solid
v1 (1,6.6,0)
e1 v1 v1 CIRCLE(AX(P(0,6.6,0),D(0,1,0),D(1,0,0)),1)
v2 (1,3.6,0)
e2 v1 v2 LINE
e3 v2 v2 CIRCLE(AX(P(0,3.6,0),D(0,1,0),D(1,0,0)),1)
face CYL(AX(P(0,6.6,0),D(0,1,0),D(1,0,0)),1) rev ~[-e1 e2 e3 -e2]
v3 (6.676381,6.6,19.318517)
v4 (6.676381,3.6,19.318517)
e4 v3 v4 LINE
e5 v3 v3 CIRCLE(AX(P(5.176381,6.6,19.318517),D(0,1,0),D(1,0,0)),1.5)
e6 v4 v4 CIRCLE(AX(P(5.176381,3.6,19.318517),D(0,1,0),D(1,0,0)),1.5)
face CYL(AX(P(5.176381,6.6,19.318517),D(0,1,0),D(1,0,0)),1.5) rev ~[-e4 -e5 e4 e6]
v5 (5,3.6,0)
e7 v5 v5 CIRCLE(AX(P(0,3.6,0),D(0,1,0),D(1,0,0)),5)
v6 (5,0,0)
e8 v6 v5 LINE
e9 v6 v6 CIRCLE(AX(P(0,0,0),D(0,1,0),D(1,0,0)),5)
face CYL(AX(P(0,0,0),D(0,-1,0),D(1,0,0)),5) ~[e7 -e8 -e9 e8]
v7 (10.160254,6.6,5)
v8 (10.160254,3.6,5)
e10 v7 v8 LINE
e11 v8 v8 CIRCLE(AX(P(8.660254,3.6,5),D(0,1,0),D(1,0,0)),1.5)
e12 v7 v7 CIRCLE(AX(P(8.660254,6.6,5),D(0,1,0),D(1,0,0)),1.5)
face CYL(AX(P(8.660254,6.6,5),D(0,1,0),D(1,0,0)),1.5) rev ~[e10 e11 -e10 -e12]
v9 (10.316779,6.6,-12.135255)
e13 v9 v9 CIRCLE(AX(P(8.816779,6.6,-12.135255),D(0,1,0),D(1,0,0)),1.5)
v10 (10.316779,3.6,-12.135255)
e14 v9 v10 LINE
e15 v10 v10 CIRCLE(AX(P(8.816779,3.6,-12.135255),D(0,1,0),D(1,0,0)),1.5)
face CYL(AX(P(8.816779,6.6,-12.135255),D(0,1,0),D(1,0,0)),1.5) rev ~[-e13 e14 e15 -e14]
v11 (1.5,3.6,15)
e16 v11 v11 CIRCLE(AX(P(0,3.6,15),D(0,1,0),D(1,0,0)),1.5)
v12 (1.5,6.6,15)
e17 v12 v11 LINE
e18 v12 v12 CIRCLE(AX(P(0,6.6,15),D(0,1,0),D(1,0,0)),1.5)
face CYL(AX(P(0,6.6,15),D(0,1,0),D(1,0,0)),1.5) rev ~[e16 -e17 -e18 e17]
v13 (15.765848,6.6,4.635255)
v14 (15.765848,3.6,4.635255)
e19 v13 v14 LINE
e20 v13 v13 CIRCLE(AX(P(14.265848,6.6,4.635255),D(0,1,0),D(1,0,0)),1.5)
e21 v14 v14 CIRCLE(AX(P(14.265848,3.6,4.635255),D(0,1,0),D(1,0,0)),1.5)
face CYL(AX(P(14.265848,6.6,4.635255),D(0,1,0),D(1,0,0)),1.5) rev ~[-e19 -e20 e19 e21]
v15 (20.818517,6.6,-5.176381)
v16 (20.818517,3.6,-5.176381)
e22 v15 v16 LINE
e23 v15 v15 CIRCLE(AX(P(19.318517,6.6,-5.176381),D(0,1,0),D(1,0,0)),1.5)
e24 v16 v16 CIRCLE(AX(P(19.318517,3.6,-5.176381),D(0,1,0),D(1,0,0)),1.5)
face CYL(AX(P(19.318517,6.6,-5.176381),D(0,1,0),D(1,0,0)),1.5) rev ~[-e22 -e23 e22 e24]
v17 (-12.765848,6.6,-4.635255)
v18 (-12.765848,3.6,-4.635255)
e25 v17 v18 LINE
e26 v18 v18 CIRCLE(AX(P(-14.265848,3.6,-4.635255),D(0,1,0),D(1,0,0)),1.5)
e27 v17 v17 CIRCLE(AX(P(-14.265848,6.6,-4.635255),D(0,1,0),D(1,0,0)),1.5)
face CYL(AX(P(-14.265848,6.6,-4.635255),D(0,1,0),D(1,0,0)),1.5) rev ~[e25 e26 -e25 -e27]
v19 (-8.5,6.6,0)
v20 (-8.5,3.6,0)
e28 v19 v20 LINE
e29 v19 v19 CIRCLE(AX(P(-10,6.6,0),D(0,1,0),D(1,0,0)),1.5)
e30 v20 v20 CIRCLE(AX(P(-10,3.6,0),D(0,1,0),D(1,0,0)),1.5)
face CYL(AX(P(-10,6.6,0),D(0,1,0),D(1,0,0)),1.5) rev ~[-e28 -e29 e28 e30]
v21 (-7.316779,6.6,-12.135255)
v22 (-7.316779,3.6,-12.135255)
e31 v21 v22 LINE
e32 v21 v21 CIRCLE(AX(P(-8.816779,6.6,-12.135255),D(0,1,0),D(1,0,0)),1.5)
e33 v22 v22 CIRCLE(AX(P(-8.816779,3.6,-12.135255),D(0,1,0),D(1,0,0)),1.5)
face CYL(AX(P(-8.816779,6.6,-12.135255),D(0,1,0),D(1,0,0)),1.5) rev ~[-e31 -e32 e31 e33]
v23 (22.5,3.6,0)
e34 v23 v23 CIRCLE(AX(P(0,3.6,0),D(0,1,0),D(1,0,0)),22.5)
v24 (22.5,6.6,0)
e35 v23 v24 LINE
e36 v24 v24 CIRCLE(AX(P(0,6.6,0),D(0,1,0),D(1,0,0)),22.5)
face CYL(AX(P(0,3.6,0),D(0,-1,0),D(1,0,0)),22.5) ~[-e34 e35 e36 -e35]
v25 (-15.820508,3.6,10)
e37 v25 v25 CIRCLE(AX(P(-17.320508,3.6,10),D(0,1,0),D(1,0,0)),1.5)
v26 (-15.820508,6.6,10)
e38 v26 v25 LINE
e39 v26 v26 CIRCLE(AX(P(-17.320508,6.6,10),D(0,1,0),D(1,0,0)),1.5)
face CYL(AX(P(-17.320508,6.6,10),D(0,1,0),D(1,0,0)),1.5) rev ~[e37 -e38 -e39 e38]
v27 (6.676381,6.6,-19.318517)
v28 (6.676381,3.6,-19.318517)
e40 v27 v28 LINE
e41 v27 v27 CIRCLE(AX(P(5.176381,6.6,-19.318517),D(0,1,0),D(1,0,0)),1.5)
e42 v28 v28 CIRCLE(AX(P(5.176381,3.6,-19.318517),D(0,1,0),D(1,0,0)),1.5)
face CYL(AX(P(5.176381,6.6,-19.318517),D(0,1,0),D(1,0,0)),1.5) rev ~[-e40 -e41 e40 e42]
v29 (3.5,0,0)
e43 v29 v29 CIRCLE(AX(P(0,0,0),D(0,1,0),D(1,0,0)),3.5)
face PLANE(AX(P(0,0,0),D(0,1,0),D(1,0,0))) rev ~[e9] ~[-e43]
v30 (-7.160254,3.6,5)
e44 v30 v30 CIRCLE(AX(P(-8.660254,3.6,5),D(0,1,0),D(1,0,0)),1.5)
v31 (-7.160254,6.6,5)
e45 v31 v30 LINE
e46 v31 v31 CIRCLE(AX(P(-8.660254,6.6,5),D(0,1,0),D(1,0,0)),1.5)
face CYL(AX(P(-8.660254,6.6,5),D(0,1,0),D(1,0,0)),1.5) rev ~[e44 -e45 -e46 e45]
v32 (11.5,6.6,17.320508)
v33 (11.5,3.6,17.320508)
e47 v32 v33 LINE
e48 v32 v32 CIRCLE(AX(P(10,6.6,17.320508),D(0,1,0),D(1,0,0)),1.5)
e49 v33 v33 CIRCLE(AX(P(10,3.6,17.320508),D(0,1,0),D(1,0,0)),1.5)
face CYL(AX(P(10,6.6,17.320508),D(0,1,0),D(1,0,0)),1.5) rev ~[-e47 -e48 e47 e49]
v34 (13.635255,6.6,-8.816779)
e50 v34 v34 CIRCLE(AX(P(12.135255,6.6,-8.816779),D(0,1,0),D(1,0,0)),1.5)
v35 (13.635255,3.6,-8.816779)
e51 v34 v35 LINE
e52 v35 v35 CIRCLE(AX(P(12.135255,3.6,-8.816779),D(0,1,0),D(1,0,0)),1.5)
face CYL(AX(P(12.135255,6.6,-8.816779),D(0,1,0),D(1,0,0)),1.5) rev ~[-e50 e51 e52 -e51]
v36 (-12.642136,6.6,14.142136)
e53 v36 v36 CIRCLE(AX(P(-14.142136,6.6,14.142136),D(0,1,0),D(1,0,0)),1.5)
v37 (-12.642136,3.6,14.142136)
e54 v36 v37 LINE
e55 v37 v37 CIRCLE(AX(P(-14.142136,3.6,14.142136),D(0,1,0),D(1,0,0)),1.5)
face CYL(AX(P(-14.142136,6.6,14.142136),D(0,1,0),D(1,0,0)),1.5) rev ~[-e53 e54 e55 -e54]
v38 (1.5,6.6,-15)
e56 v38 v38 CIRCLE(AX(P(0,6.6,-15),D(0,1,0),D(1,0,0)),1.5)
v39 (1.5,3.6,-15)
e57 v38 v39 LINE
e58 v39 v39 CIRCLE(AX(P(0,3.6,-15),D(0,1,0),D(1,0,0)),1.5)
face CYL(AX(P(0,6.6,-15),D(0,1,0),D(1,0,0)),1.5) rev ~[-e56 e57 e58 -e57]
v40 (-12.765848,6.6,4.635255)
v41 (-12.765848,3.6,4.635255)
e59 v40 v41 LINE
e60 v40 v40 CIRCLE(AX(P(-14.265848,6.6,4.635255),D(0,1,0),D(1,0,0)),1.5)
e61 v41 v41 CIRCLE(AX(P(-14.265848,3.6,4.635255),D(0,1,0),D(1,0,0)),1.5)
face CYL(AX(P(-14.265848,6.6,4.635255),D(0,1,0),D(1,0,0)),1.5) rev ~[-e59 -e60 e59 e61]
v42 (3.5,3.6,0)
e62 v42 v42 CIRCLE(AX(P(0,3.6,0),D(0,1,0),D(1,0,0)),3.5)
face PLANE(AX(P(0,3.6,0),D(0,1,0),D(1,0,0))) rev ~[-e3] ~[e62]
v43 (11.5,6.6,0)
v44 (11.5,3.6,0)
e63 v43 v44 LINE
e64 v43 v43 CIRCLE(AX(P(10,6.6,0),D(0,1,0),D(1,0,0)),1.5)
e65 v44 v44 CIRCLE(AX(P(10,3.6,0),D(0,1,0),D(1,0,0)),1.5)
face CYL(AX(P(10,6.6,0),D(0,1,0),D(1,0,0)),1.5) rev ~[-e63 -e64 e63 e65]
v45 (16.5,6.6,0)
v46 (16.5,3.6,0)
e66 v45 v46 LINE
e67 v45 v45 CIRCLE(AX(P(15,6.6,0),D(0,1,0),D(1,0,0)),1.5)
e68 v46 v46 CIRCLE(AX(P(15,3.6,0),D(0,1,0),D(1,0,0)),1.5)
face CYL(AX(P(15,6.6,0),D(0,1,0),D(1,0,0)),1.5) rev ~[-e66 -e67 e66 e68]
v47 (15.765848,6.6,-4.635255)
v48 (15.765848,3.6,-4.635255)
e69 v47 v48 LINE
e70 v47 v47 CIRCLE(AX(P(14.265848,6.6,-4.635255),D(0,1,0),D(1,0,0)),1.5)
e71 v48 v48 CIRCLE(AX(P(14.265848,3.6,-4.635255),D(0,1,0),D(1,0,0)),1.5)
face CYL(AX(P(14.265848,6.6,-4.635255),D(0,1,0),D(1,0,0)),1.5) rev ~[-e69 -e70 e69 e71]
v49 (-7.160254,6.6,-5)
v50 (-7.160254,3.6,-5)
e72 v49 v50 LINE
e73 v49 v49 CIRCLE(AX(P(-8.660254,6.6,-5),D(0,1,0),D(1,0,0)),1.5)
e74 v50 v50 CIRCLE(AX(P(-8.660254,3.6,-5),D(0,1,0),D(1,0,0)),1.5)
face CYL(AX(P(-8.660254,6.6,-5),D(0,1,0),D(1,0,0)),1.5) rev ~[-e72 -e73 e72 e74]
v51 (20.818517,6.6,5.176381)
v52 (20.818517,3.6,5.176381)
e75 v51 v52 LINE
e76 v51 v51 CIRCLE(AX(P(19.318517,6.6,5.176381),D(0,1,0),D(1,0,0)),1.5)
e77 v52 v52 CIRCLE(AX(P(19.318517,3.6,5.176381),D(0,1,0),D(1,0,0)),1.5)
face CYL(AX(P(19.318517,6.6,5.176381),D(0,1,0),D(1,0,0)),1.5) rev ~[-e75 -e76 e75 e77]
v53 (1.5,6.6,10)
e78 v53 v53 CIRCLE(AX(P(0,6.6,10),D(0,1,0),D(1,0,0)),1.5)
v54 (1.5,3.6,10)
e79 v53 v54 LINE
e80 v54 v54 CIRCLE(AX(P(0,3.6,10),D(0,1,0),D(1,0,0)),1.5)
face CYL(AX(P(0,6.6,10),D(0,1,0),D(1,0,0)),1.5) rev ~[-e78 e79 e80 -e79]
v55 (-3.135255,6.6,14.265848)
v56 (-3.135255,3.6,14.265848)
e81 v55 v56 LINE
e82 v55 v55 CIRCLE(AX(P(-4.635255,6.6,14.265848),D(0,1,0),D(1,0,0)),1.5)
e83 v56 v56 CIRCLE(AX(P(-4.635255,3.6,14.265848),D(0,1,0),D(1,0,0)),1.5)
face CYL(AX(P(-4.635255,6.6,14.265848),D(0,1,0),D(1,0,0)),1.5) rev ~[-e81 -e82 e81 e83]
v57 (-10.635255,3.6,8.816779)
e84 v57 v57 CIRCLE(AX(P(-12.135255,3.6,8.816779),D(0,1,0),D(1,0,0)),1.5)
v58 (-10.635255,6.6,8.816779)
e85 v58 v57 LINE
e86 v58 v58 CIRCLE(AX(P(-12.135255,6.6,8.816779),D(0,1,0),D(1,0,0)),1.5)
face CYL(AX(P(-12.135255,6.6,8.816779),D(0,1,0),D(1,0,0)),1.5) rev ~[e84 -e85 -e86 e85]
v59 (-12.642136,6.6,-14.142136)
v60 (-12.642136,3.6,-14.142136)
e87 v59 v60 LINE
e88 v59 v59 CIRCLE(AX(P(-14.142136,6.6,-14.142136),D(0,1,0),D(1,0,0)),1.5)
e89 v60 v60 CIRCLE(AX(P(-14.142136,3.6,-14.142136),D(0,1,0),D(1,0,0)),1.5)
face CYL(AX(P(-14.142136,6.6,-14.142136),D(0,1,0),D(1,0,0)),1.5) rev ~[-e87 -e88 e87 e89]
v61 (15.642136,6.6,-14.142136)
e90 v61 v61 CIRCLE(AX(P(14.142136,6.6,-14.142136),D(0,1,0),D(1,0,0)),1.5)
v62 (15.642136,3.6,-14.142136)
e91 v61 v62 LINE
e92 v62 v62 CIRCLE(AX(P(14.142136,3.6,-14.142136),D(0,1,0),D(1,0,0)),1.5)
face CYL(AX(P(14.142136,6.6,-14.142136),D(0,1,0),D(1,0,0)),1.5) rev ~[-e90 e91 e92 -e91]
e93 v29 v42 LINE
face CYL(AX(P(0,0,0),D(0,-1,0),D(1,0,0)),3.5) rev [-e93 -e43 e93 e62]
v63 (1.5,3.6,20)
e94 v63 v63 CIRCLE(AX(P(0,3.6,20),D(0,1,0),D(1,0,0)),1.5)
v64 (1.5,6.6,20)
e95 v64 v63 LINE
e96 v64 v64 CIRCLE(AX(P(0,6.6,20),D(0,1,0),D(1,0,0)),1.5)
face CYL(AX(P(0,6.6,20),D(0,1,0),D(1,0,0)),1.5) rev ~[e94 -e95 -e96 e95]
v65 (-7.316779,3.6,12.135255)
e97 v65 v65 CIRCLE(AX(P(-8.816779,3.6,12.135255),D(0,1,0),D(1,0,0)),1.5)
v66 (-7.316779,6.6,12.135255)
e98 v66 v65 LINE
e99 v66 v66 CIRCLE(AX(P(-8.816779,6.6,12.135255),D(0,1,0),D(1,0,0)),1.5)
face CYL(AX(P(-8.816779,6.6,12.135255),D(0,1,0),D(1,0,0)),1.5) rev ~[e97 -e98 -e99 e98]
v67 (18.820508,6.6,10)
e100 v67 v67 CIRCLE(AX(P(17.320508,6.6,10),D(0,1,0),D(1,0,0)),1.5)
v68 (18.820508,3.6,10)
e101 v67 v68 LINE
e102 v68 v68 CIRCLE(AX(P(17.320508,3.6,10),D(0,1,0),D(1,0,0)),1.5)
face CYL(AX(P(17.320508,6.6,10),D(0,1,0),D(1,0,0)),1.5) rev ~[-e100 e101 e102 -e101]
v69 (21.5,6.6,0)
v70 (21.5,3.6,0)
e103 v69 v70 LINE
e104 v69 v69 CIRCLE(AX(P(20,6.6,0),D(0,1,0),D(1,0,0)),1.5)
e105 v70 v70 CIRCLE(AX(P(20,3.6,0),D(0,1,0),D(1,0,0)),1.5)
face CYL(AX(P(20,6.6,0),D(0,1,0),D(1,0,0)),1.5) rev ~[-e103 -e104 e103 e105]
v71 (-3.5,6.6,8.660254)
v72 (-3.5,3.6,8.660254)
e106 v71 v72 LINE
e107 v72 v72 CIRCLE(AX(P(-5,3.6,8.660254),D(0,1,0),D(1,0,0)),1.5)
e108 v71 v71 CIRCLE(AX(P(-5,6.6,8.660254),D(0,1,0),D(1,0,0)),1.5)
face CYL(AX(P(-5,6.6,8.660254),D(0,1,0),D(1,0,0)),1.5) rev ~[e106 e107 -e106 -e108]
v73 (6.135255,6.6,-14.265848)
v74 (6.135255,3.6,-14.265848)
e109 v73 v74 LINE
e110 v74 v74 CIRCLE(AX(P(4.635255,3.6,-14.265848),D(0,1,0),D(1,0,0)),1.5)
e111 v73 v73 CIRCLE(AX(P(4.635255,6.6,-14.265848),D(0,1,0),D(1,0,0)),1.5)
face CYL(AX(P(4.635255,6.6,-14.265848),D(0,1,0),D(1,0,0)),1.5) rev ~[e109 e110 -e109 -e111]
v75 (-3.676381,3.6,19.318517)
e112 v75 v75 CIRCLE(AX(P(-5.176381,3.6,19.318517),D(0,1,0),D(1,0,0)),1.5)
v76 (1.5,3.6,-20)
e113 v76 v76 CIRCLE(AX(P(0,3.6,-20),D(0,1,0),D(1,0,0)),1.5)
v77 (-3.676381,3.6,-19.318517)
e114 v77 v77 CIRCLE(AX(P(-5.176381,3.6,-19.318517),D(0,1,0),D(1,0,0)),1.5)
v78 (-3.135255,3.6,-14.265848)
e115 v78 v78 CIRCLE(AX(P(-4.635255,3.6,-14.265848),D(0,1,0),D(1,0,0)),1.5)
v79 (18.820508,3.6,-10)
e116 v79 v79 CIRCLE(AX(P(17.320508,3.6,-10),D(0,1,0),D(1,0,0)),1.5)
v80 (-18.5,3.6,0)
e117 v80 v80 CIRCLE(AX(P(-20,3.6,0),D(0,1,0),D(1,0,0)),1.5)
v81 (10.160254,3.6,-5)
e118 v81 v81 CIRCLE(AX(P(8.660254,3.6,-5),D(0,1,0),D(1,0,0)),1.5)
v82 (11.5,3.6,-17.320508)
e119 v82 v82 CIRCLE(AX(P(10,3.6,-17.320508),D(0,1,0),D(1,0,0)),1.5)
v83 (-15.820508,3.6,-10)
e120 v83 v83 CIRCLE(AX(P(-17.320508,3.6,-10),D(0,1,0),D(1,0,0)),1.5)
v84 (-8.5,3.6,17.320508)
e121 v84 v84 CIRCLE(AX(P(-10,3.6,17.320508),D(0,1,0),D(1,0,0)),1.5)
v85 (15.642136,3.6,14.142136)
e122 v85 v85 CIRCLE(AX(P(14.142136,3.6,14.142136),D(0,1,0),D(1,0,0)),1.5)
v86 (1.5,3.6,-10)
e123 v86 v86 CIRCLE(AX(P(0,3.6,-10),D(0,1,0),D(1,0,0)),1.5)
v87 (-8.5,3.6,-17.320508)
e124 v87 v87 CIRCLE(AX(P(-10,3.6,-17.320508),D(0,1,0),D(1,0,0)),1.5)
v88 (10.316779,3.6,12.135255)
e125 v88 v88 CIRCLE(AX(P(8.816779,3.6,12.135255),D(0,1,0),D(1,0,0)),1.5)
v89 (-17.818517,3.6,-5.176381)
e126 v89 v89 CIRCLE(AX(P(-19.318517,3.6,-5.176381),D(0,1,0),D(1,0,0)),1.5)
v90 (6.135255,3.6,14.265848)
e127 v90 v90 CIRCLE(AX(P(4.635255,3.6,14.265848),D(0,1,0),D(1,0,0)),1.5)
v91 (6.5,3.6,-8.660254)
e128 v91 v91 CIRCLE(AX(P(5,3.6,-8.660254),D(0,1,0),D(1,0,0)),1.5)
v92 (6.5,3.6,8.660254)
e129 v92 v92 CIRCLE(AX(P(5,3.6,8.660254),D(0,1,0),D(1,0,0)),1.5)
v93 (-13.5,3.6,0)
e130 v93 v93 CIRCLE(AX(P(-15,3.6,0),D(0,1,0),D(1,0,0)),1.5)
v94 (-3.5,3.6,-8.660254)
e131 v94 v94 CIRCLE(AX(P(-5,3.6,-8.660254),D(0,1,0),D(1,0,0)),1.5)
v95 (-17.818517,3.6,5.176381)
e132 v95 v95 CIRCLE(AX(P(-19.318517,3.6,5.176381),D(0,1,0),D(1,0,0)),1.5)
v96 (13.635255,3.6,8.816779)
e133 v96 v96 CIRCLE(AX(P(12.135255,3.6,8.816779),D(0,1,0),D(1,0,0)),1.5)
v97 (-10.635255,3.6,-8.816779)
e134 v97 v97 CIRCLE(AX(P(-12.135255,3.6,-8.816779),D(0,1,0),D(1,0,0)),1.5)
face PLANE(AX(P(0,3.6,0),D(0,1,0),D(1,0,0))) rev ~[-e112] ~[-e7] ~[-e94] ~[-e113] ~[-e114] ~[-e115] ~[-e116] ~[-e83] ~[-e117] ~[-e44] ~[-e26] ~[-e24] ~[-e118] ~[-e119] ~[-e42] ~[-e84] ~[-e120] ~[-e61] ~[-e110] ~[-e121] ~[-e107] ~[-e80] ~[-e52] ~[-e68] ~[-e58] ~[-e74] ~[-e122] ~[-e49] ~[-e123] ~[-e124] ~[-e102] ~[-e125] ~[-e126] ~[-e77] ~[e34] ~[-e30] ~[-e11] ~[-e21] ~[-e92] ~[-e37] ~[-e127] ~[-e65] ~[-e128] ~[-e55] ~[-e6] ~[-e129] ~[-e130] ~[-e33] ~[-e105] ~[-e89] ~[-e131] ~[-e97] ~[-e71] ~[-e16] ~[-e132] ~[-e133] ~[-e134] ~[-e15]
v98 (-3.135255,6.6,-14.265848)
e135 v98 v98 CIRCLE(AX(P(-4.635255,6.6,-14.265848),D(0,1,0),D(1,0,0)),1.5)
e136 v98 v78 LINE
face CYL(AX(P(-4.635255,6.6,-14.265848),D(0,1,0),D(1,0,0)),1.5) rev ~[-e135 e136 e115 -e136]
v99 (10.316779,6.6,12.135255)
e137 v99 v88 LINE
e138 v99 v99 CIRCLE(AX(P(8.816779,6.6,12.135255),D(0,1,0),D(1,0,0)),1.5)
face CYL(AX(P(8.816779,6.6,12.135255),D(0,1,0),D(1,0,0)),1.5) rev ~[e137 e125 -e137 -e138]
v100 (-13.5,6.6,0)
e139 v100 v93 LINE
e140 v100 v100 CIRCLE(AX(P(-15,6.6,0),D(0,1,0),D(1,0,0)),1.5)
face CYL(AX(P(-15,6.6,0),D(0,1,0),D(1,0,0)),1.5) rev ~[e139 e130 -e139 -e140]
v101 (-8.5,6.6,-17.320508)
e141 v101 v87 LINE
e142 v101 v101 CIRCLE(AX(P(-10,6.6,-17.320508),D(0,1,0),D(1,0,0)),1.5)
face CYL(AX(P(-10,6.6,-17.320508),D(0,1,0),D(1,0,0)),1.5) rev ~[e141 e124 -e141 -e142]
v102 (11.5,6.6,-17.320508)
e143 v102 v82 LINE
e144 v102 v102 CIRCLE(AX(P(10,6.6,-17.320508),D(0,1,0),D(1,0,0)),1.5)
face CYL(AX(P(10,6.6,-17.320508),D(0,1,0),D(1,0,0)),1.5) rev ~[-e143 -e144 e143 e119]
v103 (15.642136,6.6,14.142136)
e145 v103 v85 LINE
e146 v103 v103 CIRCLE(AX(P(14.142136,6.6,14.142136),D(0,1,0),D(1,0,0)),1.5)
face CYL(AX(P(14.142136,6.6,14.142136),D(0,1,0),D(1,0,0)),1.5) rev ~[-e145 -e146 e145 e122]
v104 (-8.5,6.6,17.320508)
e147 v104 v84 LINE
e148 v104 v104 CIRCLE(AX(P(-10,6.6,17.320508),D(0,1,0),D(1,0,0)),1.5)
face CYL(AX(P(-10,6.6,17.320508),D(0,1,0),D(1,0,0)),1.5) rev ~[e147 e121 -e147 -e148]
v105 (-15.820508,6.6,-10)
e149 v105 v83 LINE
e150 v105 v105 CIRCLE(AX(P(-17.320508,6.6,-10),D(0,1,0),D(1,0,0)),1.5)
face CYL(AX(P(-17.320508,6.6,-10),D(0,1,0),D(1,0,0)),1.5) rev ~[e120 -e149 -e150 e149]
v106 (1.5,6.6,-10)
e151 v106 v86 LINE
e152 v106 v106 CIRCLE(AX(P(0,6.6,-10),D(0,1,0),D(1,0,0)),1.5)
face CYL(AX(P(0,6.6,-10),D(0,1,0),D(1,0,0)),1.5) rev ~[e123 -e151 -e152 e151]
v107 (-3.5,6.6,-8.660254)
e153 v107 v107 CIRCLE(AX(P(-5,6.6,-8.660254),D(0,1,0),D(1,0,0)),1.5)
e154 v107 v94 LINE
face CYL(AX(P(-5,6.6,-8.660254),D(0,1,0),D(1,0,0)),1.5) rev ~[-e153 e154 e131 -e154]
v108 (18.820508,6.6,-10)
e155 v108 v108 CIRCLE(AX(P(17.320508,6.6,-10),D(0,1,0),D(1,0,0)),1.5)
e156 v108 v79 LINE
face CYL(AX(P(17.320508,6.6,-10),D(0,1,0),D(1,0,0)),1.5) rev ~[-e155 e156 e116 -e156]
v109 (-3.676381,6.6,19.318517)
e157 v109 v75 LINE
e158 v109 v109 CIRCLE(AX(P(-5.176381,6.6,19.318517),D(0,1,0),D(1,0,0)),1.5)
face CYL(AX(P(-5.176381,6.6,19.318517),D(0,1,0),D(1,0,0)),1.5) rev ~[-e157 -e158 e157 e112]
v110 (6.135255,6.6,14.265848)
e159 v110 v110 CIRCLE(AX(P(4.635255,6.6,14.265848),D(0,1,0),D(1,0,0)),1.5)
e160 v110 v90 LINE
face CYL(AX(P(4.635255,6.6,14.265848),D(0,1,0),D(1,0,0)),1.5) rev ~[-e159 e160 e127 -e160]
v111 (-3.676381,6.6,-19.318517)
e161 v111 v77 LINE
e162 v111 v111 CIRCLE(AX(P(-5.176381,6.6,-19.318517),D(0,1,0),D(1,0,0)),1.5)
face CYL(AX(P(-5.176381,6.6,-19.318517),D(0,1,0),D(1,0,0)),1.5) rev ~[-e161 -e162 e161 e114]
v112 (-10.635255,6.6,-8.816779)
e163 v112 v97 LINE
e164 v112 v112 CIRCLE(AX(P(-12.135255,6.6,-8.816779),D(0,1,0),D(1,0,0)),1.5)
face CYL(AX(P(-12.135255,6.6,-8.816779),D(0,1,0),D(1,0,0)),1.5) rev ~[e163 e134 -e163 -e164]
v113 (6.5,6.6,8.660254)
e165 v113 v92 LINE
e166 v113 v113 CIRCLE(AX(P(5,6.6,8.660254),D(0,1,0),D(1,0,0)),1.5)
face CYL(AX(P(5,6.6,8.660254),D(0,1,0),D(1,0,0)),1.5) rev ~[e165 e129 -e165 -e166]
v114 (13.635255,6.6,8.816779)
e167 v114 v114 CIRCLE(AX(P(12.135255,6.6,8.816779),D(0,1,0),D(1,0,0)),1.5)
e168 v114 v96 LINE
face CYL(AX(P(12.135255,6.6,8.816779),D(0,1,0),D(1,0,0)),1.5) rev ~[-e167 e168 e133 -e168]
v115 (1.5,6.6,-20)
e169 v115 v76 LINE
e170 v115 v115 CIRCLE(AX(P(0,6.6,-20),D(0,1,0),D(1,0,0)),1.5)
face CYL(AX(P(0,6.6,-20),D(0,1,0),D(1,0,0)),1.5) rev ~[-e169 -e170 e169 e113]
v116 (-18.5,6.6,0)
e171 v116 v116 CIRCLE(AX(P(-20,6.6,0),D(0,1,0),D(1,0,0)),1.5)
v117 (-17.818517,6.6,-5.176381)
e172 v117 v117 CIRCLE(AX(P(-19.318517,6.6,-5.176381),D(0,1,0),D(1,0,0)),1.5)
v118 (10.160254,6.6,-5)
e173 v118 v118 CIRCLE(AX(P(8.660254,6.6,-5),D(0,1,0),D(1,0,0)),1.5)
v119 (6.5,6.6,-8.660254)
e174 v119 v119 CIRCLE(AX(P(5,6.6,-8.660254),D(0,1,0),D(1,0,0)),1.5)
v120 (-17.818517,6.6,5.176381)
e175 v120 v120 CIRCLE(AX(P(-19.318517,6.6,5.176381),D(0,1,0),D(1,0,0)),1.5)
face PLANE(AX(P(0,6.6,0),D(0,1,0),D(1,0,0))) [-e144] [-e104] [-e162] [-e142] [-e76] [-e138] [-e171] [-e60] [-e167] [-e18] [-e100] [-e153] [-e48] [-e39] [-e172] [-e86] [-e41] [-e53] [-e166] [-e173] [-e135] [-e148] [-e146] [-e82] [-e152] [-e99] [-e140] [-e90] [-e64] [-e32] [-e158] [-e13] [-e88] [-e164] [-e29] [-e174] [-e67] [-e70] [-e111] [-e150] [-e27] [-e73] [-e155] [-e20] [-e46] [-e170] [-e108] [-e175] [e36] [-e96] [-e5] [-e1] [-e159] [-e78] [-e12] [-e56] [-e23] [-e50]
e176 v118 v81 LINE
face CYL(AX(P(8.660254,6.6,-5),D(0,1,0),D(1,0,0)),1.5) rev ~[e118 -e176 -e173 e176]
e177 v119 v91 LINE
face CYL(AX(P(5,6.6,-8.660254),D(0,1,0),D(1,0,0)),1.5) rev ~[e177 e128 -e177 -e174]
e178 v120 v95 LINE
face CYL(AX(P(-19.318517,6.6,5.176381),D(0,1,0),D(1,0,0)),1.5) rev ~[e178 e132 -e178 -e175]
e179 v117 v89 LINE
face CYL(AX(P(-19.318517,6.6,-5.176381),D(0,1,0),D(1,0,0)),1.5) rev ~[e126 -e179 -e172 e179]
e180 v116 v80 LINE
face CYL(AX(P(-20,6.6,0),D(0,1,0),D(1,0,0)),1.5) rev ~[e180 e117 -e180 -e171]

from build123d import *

# Parameters (mm, degrees)
ESBO_O1_R                = 5
ESBO_O1_R_2              = 3.5
RESSALTO_EXTRUS_O1_DEPTH = 3.6
ESBO_O4_R                = 22.5
RESSALTO_EXTRUS_O2_DEPTH = 3
ESBO_O5_R                = 1
ESBO_O5_R_2              = 1.5
CORTE_EXTRUS_O2_DEPTH    = 7.6


with BuildPart() as part:
    # Esboço1 → Ressalto-extrusão1 (new body)
    with BuildSketch(Plane(origin=(0, 0, 0), x_dir=(1, 0, 0), z_dir=(0, 1, 0))):
        Circle(ESBO_O1_R)
        Circle(ESBO_O1_R_2, mode=Mode.SUBTRACT)
    extrude(amount=RESSALTO_EXTRUS_O1_DEPTH)

    # Esboço4 → Ressalto-extrusão2 (add)
    with BuildSketch(Plane(origin=(0, 3.6, 0), x_dir=(1, 0, 0), z_dir=(0, 1, 0))):
        Circle(ESBO_O4_R)
    extrude(amount=RESSALTO_EXTRUS_O2_DEPTH)

    # Esboço5 → Corte-extrusão2 (cut, through all)
    with BuildSketch(Plane(origin=(0, 6.6, 0), x_dir=(1, 0, 0), z_dir=(0, 1, 0))):
        Circle(ESBO_O5_R)
        with Locations((0, 20)):
            Circle(ESBO_O5_R_2)
        with Locations((0, 15)):
            Circle(ESBO_O5_R_2)
        with Locations((0, 10)):
            Circle(ESBO_O5_R_2)
        with Locations((5, 8.660254038)):
            Circle(ESBO_O5_R_2)
        with Locations((8.660254038, 5)):
            Circle(ESBO_O5_R_2)
        with Locations((10, 0)):
            Circle(ESBO_O5_R_2)
        with Locations((8.660254038, -5)):
            Circle(ESBO_O5_R_2)
        with Locations((5, -8.660254038)):
            Circle(ESBO_O5_R_2)
        with Locations((0, -10)):
            Circle(ESBO_O5_R_2)
        with Locations((-5, -8.660254038)):
            Circle(ESBO_O5_R_2)
        with Locations((-8.660254038, -5)):
            Circle(ESBO_O5_R_2)
        with Locations((-10, 0)):
            Circle(ESBO_O5_R_2)
        with Locations((-8.660254038, 5)):
            Circle(ESBO_O5_R_2)
        with Locations((-5, 8.660254038)):
            Circle(ESBO_O5_R_2)
        with Locations((4.635254916, 14.265847744)):
            Circle(ESBO_O5_R_2)
        with Locations((8.816778784, 12.135254916)):
            Circle(ESBO_O5_R_2)
        with Locations((12.135254916, 8.816778784)):
            Circle(ESBO_O5_R_2)
        with Locations((14.265847744, 4.635254916)):
            Circle(ESBO_O5_R_2)
        with Locations((15, 0)):
            Circle(ESBO_O5_R_2)
        with Locations((14.265847744, -4.635254916)):
            Circle(ESBO_O5_R_2)
        with Locations((12.135254916, -8.816778784)):
            Circle(ESBO_O5_R_2)
        with Locations((8.816778784, -12.135254916)):
            Circle(ESBO_O5_R_2)
        with Locations((4.635254916, -14.265847744)):
            Circle(ESBO_O5_R_2)
        with Locations((0, -15)):
            Circle(ESBO_O5_R_2)
        with Locations((-4.635254916, -14.265847744)):
            Circle(ESBO_O5_R_2)
        with Locations((-8.816778784, -12.135254916)):
            Circle(ESBO_O5_R_2)
        with Locations((-12.135254916, -8.816778784)):
            Circle(ESBO_O5_R_2)
        with Locations((-14.265847744, -4.635254916)):
            Circle(ESBO_O5_R_2)
        with Locations((-15, 0)):
            Circle(ESBO_O5_R_2)
        with Locations((-14.265847744, 4.635254916)):
            Circle(ESBO_O5_R_2)
        with Locations((-12.135254916, 8.816778784)):
            Circle(ESBO_O5_R_2)
        with Locations((-8.816778784, 12.135254916)):
            Circle(ESBO_O5_R_2)
        with Locations((-4.635254916, 14.265847744)):
            Circle(ESBO_O5_R_2)
        with Locations((5.176380902, 19.318516526)):
            Circle(ESBO_O5_R_2)
        with Locations((10, 17.320508076)):
            Circle(ESBO_O5_R_2)
        with Locations((14.142135624, 14.142135624)):
            Circle(ESBO_O5_R_2)
        with Locations((17.320508076, 10)):
            Circle(ESBO_O5_R_2)
        with Locations((19.318516526, 5.176380902)):
            Circle(ESBO_O5_R_2)
        with Locations((20, 0)):
            Circle(ESBO_O5_R_2)
        with Locations((19.318516526, -5.176380902)):
            Circle(ESBO_O5_R_2)
        with Locations((17.320508076, -10)):
            Circle(ESBO_O5_R_2)
        with Locations((14.142135624, -14.142135624)):
            Circle(ESBO_O5_R_2)
        with Locations((10, -17.320508076)):
            Circle(ESBO_O5_R_2)
        with Locations((5.176380902, -19.318516526)):
            Circle(ESBO_O5_R_2)
        with Locations((0, -20)):
            Circle(ESBO_O5_R_2)
        with Locations((-5.176380902, -19.318516526)):
            Circle(ESBO_O5_R_2)
        with Locations((-10, -17.320508076)):
            Circle(ESBO_O5_R_2)
        with Locations((-14.142135624, -14.142135624)):
            Circle(ESBO_O5_R_2)
        with Locations((-17.320508076, -10)):
            Circle(ESBO_O5_R_2)
        with Locations((-19.318516526, -5.176380902)):
            Circle(ESBO_O5_R_2)
        with Locations((-20, 0)):
            Circle(ESBO_O5_R_2)
        with Locations((-19.318516526, 5.176380902)):
            Circle(ESBO_O5_R_2)
        with Locations((-17.320508076, 10)):
            Circle(ESBO_O5_R_2)
        with Locations((-14.142135624, 14.142135624)):
            Circle(ESBO_O5_R_2)
        with Locations((-10, 17.320508076)):
            Circle(ESBO_O5_R_2)
        with Locations((-5.176380902, 19.318516526)):
            Circle(ESBO_O5_R_2)
    extrude(amount=-CORTE_EXTRUS_O2_DEPTH, mode=Mode.SUBTRACT)


solid = part.part
